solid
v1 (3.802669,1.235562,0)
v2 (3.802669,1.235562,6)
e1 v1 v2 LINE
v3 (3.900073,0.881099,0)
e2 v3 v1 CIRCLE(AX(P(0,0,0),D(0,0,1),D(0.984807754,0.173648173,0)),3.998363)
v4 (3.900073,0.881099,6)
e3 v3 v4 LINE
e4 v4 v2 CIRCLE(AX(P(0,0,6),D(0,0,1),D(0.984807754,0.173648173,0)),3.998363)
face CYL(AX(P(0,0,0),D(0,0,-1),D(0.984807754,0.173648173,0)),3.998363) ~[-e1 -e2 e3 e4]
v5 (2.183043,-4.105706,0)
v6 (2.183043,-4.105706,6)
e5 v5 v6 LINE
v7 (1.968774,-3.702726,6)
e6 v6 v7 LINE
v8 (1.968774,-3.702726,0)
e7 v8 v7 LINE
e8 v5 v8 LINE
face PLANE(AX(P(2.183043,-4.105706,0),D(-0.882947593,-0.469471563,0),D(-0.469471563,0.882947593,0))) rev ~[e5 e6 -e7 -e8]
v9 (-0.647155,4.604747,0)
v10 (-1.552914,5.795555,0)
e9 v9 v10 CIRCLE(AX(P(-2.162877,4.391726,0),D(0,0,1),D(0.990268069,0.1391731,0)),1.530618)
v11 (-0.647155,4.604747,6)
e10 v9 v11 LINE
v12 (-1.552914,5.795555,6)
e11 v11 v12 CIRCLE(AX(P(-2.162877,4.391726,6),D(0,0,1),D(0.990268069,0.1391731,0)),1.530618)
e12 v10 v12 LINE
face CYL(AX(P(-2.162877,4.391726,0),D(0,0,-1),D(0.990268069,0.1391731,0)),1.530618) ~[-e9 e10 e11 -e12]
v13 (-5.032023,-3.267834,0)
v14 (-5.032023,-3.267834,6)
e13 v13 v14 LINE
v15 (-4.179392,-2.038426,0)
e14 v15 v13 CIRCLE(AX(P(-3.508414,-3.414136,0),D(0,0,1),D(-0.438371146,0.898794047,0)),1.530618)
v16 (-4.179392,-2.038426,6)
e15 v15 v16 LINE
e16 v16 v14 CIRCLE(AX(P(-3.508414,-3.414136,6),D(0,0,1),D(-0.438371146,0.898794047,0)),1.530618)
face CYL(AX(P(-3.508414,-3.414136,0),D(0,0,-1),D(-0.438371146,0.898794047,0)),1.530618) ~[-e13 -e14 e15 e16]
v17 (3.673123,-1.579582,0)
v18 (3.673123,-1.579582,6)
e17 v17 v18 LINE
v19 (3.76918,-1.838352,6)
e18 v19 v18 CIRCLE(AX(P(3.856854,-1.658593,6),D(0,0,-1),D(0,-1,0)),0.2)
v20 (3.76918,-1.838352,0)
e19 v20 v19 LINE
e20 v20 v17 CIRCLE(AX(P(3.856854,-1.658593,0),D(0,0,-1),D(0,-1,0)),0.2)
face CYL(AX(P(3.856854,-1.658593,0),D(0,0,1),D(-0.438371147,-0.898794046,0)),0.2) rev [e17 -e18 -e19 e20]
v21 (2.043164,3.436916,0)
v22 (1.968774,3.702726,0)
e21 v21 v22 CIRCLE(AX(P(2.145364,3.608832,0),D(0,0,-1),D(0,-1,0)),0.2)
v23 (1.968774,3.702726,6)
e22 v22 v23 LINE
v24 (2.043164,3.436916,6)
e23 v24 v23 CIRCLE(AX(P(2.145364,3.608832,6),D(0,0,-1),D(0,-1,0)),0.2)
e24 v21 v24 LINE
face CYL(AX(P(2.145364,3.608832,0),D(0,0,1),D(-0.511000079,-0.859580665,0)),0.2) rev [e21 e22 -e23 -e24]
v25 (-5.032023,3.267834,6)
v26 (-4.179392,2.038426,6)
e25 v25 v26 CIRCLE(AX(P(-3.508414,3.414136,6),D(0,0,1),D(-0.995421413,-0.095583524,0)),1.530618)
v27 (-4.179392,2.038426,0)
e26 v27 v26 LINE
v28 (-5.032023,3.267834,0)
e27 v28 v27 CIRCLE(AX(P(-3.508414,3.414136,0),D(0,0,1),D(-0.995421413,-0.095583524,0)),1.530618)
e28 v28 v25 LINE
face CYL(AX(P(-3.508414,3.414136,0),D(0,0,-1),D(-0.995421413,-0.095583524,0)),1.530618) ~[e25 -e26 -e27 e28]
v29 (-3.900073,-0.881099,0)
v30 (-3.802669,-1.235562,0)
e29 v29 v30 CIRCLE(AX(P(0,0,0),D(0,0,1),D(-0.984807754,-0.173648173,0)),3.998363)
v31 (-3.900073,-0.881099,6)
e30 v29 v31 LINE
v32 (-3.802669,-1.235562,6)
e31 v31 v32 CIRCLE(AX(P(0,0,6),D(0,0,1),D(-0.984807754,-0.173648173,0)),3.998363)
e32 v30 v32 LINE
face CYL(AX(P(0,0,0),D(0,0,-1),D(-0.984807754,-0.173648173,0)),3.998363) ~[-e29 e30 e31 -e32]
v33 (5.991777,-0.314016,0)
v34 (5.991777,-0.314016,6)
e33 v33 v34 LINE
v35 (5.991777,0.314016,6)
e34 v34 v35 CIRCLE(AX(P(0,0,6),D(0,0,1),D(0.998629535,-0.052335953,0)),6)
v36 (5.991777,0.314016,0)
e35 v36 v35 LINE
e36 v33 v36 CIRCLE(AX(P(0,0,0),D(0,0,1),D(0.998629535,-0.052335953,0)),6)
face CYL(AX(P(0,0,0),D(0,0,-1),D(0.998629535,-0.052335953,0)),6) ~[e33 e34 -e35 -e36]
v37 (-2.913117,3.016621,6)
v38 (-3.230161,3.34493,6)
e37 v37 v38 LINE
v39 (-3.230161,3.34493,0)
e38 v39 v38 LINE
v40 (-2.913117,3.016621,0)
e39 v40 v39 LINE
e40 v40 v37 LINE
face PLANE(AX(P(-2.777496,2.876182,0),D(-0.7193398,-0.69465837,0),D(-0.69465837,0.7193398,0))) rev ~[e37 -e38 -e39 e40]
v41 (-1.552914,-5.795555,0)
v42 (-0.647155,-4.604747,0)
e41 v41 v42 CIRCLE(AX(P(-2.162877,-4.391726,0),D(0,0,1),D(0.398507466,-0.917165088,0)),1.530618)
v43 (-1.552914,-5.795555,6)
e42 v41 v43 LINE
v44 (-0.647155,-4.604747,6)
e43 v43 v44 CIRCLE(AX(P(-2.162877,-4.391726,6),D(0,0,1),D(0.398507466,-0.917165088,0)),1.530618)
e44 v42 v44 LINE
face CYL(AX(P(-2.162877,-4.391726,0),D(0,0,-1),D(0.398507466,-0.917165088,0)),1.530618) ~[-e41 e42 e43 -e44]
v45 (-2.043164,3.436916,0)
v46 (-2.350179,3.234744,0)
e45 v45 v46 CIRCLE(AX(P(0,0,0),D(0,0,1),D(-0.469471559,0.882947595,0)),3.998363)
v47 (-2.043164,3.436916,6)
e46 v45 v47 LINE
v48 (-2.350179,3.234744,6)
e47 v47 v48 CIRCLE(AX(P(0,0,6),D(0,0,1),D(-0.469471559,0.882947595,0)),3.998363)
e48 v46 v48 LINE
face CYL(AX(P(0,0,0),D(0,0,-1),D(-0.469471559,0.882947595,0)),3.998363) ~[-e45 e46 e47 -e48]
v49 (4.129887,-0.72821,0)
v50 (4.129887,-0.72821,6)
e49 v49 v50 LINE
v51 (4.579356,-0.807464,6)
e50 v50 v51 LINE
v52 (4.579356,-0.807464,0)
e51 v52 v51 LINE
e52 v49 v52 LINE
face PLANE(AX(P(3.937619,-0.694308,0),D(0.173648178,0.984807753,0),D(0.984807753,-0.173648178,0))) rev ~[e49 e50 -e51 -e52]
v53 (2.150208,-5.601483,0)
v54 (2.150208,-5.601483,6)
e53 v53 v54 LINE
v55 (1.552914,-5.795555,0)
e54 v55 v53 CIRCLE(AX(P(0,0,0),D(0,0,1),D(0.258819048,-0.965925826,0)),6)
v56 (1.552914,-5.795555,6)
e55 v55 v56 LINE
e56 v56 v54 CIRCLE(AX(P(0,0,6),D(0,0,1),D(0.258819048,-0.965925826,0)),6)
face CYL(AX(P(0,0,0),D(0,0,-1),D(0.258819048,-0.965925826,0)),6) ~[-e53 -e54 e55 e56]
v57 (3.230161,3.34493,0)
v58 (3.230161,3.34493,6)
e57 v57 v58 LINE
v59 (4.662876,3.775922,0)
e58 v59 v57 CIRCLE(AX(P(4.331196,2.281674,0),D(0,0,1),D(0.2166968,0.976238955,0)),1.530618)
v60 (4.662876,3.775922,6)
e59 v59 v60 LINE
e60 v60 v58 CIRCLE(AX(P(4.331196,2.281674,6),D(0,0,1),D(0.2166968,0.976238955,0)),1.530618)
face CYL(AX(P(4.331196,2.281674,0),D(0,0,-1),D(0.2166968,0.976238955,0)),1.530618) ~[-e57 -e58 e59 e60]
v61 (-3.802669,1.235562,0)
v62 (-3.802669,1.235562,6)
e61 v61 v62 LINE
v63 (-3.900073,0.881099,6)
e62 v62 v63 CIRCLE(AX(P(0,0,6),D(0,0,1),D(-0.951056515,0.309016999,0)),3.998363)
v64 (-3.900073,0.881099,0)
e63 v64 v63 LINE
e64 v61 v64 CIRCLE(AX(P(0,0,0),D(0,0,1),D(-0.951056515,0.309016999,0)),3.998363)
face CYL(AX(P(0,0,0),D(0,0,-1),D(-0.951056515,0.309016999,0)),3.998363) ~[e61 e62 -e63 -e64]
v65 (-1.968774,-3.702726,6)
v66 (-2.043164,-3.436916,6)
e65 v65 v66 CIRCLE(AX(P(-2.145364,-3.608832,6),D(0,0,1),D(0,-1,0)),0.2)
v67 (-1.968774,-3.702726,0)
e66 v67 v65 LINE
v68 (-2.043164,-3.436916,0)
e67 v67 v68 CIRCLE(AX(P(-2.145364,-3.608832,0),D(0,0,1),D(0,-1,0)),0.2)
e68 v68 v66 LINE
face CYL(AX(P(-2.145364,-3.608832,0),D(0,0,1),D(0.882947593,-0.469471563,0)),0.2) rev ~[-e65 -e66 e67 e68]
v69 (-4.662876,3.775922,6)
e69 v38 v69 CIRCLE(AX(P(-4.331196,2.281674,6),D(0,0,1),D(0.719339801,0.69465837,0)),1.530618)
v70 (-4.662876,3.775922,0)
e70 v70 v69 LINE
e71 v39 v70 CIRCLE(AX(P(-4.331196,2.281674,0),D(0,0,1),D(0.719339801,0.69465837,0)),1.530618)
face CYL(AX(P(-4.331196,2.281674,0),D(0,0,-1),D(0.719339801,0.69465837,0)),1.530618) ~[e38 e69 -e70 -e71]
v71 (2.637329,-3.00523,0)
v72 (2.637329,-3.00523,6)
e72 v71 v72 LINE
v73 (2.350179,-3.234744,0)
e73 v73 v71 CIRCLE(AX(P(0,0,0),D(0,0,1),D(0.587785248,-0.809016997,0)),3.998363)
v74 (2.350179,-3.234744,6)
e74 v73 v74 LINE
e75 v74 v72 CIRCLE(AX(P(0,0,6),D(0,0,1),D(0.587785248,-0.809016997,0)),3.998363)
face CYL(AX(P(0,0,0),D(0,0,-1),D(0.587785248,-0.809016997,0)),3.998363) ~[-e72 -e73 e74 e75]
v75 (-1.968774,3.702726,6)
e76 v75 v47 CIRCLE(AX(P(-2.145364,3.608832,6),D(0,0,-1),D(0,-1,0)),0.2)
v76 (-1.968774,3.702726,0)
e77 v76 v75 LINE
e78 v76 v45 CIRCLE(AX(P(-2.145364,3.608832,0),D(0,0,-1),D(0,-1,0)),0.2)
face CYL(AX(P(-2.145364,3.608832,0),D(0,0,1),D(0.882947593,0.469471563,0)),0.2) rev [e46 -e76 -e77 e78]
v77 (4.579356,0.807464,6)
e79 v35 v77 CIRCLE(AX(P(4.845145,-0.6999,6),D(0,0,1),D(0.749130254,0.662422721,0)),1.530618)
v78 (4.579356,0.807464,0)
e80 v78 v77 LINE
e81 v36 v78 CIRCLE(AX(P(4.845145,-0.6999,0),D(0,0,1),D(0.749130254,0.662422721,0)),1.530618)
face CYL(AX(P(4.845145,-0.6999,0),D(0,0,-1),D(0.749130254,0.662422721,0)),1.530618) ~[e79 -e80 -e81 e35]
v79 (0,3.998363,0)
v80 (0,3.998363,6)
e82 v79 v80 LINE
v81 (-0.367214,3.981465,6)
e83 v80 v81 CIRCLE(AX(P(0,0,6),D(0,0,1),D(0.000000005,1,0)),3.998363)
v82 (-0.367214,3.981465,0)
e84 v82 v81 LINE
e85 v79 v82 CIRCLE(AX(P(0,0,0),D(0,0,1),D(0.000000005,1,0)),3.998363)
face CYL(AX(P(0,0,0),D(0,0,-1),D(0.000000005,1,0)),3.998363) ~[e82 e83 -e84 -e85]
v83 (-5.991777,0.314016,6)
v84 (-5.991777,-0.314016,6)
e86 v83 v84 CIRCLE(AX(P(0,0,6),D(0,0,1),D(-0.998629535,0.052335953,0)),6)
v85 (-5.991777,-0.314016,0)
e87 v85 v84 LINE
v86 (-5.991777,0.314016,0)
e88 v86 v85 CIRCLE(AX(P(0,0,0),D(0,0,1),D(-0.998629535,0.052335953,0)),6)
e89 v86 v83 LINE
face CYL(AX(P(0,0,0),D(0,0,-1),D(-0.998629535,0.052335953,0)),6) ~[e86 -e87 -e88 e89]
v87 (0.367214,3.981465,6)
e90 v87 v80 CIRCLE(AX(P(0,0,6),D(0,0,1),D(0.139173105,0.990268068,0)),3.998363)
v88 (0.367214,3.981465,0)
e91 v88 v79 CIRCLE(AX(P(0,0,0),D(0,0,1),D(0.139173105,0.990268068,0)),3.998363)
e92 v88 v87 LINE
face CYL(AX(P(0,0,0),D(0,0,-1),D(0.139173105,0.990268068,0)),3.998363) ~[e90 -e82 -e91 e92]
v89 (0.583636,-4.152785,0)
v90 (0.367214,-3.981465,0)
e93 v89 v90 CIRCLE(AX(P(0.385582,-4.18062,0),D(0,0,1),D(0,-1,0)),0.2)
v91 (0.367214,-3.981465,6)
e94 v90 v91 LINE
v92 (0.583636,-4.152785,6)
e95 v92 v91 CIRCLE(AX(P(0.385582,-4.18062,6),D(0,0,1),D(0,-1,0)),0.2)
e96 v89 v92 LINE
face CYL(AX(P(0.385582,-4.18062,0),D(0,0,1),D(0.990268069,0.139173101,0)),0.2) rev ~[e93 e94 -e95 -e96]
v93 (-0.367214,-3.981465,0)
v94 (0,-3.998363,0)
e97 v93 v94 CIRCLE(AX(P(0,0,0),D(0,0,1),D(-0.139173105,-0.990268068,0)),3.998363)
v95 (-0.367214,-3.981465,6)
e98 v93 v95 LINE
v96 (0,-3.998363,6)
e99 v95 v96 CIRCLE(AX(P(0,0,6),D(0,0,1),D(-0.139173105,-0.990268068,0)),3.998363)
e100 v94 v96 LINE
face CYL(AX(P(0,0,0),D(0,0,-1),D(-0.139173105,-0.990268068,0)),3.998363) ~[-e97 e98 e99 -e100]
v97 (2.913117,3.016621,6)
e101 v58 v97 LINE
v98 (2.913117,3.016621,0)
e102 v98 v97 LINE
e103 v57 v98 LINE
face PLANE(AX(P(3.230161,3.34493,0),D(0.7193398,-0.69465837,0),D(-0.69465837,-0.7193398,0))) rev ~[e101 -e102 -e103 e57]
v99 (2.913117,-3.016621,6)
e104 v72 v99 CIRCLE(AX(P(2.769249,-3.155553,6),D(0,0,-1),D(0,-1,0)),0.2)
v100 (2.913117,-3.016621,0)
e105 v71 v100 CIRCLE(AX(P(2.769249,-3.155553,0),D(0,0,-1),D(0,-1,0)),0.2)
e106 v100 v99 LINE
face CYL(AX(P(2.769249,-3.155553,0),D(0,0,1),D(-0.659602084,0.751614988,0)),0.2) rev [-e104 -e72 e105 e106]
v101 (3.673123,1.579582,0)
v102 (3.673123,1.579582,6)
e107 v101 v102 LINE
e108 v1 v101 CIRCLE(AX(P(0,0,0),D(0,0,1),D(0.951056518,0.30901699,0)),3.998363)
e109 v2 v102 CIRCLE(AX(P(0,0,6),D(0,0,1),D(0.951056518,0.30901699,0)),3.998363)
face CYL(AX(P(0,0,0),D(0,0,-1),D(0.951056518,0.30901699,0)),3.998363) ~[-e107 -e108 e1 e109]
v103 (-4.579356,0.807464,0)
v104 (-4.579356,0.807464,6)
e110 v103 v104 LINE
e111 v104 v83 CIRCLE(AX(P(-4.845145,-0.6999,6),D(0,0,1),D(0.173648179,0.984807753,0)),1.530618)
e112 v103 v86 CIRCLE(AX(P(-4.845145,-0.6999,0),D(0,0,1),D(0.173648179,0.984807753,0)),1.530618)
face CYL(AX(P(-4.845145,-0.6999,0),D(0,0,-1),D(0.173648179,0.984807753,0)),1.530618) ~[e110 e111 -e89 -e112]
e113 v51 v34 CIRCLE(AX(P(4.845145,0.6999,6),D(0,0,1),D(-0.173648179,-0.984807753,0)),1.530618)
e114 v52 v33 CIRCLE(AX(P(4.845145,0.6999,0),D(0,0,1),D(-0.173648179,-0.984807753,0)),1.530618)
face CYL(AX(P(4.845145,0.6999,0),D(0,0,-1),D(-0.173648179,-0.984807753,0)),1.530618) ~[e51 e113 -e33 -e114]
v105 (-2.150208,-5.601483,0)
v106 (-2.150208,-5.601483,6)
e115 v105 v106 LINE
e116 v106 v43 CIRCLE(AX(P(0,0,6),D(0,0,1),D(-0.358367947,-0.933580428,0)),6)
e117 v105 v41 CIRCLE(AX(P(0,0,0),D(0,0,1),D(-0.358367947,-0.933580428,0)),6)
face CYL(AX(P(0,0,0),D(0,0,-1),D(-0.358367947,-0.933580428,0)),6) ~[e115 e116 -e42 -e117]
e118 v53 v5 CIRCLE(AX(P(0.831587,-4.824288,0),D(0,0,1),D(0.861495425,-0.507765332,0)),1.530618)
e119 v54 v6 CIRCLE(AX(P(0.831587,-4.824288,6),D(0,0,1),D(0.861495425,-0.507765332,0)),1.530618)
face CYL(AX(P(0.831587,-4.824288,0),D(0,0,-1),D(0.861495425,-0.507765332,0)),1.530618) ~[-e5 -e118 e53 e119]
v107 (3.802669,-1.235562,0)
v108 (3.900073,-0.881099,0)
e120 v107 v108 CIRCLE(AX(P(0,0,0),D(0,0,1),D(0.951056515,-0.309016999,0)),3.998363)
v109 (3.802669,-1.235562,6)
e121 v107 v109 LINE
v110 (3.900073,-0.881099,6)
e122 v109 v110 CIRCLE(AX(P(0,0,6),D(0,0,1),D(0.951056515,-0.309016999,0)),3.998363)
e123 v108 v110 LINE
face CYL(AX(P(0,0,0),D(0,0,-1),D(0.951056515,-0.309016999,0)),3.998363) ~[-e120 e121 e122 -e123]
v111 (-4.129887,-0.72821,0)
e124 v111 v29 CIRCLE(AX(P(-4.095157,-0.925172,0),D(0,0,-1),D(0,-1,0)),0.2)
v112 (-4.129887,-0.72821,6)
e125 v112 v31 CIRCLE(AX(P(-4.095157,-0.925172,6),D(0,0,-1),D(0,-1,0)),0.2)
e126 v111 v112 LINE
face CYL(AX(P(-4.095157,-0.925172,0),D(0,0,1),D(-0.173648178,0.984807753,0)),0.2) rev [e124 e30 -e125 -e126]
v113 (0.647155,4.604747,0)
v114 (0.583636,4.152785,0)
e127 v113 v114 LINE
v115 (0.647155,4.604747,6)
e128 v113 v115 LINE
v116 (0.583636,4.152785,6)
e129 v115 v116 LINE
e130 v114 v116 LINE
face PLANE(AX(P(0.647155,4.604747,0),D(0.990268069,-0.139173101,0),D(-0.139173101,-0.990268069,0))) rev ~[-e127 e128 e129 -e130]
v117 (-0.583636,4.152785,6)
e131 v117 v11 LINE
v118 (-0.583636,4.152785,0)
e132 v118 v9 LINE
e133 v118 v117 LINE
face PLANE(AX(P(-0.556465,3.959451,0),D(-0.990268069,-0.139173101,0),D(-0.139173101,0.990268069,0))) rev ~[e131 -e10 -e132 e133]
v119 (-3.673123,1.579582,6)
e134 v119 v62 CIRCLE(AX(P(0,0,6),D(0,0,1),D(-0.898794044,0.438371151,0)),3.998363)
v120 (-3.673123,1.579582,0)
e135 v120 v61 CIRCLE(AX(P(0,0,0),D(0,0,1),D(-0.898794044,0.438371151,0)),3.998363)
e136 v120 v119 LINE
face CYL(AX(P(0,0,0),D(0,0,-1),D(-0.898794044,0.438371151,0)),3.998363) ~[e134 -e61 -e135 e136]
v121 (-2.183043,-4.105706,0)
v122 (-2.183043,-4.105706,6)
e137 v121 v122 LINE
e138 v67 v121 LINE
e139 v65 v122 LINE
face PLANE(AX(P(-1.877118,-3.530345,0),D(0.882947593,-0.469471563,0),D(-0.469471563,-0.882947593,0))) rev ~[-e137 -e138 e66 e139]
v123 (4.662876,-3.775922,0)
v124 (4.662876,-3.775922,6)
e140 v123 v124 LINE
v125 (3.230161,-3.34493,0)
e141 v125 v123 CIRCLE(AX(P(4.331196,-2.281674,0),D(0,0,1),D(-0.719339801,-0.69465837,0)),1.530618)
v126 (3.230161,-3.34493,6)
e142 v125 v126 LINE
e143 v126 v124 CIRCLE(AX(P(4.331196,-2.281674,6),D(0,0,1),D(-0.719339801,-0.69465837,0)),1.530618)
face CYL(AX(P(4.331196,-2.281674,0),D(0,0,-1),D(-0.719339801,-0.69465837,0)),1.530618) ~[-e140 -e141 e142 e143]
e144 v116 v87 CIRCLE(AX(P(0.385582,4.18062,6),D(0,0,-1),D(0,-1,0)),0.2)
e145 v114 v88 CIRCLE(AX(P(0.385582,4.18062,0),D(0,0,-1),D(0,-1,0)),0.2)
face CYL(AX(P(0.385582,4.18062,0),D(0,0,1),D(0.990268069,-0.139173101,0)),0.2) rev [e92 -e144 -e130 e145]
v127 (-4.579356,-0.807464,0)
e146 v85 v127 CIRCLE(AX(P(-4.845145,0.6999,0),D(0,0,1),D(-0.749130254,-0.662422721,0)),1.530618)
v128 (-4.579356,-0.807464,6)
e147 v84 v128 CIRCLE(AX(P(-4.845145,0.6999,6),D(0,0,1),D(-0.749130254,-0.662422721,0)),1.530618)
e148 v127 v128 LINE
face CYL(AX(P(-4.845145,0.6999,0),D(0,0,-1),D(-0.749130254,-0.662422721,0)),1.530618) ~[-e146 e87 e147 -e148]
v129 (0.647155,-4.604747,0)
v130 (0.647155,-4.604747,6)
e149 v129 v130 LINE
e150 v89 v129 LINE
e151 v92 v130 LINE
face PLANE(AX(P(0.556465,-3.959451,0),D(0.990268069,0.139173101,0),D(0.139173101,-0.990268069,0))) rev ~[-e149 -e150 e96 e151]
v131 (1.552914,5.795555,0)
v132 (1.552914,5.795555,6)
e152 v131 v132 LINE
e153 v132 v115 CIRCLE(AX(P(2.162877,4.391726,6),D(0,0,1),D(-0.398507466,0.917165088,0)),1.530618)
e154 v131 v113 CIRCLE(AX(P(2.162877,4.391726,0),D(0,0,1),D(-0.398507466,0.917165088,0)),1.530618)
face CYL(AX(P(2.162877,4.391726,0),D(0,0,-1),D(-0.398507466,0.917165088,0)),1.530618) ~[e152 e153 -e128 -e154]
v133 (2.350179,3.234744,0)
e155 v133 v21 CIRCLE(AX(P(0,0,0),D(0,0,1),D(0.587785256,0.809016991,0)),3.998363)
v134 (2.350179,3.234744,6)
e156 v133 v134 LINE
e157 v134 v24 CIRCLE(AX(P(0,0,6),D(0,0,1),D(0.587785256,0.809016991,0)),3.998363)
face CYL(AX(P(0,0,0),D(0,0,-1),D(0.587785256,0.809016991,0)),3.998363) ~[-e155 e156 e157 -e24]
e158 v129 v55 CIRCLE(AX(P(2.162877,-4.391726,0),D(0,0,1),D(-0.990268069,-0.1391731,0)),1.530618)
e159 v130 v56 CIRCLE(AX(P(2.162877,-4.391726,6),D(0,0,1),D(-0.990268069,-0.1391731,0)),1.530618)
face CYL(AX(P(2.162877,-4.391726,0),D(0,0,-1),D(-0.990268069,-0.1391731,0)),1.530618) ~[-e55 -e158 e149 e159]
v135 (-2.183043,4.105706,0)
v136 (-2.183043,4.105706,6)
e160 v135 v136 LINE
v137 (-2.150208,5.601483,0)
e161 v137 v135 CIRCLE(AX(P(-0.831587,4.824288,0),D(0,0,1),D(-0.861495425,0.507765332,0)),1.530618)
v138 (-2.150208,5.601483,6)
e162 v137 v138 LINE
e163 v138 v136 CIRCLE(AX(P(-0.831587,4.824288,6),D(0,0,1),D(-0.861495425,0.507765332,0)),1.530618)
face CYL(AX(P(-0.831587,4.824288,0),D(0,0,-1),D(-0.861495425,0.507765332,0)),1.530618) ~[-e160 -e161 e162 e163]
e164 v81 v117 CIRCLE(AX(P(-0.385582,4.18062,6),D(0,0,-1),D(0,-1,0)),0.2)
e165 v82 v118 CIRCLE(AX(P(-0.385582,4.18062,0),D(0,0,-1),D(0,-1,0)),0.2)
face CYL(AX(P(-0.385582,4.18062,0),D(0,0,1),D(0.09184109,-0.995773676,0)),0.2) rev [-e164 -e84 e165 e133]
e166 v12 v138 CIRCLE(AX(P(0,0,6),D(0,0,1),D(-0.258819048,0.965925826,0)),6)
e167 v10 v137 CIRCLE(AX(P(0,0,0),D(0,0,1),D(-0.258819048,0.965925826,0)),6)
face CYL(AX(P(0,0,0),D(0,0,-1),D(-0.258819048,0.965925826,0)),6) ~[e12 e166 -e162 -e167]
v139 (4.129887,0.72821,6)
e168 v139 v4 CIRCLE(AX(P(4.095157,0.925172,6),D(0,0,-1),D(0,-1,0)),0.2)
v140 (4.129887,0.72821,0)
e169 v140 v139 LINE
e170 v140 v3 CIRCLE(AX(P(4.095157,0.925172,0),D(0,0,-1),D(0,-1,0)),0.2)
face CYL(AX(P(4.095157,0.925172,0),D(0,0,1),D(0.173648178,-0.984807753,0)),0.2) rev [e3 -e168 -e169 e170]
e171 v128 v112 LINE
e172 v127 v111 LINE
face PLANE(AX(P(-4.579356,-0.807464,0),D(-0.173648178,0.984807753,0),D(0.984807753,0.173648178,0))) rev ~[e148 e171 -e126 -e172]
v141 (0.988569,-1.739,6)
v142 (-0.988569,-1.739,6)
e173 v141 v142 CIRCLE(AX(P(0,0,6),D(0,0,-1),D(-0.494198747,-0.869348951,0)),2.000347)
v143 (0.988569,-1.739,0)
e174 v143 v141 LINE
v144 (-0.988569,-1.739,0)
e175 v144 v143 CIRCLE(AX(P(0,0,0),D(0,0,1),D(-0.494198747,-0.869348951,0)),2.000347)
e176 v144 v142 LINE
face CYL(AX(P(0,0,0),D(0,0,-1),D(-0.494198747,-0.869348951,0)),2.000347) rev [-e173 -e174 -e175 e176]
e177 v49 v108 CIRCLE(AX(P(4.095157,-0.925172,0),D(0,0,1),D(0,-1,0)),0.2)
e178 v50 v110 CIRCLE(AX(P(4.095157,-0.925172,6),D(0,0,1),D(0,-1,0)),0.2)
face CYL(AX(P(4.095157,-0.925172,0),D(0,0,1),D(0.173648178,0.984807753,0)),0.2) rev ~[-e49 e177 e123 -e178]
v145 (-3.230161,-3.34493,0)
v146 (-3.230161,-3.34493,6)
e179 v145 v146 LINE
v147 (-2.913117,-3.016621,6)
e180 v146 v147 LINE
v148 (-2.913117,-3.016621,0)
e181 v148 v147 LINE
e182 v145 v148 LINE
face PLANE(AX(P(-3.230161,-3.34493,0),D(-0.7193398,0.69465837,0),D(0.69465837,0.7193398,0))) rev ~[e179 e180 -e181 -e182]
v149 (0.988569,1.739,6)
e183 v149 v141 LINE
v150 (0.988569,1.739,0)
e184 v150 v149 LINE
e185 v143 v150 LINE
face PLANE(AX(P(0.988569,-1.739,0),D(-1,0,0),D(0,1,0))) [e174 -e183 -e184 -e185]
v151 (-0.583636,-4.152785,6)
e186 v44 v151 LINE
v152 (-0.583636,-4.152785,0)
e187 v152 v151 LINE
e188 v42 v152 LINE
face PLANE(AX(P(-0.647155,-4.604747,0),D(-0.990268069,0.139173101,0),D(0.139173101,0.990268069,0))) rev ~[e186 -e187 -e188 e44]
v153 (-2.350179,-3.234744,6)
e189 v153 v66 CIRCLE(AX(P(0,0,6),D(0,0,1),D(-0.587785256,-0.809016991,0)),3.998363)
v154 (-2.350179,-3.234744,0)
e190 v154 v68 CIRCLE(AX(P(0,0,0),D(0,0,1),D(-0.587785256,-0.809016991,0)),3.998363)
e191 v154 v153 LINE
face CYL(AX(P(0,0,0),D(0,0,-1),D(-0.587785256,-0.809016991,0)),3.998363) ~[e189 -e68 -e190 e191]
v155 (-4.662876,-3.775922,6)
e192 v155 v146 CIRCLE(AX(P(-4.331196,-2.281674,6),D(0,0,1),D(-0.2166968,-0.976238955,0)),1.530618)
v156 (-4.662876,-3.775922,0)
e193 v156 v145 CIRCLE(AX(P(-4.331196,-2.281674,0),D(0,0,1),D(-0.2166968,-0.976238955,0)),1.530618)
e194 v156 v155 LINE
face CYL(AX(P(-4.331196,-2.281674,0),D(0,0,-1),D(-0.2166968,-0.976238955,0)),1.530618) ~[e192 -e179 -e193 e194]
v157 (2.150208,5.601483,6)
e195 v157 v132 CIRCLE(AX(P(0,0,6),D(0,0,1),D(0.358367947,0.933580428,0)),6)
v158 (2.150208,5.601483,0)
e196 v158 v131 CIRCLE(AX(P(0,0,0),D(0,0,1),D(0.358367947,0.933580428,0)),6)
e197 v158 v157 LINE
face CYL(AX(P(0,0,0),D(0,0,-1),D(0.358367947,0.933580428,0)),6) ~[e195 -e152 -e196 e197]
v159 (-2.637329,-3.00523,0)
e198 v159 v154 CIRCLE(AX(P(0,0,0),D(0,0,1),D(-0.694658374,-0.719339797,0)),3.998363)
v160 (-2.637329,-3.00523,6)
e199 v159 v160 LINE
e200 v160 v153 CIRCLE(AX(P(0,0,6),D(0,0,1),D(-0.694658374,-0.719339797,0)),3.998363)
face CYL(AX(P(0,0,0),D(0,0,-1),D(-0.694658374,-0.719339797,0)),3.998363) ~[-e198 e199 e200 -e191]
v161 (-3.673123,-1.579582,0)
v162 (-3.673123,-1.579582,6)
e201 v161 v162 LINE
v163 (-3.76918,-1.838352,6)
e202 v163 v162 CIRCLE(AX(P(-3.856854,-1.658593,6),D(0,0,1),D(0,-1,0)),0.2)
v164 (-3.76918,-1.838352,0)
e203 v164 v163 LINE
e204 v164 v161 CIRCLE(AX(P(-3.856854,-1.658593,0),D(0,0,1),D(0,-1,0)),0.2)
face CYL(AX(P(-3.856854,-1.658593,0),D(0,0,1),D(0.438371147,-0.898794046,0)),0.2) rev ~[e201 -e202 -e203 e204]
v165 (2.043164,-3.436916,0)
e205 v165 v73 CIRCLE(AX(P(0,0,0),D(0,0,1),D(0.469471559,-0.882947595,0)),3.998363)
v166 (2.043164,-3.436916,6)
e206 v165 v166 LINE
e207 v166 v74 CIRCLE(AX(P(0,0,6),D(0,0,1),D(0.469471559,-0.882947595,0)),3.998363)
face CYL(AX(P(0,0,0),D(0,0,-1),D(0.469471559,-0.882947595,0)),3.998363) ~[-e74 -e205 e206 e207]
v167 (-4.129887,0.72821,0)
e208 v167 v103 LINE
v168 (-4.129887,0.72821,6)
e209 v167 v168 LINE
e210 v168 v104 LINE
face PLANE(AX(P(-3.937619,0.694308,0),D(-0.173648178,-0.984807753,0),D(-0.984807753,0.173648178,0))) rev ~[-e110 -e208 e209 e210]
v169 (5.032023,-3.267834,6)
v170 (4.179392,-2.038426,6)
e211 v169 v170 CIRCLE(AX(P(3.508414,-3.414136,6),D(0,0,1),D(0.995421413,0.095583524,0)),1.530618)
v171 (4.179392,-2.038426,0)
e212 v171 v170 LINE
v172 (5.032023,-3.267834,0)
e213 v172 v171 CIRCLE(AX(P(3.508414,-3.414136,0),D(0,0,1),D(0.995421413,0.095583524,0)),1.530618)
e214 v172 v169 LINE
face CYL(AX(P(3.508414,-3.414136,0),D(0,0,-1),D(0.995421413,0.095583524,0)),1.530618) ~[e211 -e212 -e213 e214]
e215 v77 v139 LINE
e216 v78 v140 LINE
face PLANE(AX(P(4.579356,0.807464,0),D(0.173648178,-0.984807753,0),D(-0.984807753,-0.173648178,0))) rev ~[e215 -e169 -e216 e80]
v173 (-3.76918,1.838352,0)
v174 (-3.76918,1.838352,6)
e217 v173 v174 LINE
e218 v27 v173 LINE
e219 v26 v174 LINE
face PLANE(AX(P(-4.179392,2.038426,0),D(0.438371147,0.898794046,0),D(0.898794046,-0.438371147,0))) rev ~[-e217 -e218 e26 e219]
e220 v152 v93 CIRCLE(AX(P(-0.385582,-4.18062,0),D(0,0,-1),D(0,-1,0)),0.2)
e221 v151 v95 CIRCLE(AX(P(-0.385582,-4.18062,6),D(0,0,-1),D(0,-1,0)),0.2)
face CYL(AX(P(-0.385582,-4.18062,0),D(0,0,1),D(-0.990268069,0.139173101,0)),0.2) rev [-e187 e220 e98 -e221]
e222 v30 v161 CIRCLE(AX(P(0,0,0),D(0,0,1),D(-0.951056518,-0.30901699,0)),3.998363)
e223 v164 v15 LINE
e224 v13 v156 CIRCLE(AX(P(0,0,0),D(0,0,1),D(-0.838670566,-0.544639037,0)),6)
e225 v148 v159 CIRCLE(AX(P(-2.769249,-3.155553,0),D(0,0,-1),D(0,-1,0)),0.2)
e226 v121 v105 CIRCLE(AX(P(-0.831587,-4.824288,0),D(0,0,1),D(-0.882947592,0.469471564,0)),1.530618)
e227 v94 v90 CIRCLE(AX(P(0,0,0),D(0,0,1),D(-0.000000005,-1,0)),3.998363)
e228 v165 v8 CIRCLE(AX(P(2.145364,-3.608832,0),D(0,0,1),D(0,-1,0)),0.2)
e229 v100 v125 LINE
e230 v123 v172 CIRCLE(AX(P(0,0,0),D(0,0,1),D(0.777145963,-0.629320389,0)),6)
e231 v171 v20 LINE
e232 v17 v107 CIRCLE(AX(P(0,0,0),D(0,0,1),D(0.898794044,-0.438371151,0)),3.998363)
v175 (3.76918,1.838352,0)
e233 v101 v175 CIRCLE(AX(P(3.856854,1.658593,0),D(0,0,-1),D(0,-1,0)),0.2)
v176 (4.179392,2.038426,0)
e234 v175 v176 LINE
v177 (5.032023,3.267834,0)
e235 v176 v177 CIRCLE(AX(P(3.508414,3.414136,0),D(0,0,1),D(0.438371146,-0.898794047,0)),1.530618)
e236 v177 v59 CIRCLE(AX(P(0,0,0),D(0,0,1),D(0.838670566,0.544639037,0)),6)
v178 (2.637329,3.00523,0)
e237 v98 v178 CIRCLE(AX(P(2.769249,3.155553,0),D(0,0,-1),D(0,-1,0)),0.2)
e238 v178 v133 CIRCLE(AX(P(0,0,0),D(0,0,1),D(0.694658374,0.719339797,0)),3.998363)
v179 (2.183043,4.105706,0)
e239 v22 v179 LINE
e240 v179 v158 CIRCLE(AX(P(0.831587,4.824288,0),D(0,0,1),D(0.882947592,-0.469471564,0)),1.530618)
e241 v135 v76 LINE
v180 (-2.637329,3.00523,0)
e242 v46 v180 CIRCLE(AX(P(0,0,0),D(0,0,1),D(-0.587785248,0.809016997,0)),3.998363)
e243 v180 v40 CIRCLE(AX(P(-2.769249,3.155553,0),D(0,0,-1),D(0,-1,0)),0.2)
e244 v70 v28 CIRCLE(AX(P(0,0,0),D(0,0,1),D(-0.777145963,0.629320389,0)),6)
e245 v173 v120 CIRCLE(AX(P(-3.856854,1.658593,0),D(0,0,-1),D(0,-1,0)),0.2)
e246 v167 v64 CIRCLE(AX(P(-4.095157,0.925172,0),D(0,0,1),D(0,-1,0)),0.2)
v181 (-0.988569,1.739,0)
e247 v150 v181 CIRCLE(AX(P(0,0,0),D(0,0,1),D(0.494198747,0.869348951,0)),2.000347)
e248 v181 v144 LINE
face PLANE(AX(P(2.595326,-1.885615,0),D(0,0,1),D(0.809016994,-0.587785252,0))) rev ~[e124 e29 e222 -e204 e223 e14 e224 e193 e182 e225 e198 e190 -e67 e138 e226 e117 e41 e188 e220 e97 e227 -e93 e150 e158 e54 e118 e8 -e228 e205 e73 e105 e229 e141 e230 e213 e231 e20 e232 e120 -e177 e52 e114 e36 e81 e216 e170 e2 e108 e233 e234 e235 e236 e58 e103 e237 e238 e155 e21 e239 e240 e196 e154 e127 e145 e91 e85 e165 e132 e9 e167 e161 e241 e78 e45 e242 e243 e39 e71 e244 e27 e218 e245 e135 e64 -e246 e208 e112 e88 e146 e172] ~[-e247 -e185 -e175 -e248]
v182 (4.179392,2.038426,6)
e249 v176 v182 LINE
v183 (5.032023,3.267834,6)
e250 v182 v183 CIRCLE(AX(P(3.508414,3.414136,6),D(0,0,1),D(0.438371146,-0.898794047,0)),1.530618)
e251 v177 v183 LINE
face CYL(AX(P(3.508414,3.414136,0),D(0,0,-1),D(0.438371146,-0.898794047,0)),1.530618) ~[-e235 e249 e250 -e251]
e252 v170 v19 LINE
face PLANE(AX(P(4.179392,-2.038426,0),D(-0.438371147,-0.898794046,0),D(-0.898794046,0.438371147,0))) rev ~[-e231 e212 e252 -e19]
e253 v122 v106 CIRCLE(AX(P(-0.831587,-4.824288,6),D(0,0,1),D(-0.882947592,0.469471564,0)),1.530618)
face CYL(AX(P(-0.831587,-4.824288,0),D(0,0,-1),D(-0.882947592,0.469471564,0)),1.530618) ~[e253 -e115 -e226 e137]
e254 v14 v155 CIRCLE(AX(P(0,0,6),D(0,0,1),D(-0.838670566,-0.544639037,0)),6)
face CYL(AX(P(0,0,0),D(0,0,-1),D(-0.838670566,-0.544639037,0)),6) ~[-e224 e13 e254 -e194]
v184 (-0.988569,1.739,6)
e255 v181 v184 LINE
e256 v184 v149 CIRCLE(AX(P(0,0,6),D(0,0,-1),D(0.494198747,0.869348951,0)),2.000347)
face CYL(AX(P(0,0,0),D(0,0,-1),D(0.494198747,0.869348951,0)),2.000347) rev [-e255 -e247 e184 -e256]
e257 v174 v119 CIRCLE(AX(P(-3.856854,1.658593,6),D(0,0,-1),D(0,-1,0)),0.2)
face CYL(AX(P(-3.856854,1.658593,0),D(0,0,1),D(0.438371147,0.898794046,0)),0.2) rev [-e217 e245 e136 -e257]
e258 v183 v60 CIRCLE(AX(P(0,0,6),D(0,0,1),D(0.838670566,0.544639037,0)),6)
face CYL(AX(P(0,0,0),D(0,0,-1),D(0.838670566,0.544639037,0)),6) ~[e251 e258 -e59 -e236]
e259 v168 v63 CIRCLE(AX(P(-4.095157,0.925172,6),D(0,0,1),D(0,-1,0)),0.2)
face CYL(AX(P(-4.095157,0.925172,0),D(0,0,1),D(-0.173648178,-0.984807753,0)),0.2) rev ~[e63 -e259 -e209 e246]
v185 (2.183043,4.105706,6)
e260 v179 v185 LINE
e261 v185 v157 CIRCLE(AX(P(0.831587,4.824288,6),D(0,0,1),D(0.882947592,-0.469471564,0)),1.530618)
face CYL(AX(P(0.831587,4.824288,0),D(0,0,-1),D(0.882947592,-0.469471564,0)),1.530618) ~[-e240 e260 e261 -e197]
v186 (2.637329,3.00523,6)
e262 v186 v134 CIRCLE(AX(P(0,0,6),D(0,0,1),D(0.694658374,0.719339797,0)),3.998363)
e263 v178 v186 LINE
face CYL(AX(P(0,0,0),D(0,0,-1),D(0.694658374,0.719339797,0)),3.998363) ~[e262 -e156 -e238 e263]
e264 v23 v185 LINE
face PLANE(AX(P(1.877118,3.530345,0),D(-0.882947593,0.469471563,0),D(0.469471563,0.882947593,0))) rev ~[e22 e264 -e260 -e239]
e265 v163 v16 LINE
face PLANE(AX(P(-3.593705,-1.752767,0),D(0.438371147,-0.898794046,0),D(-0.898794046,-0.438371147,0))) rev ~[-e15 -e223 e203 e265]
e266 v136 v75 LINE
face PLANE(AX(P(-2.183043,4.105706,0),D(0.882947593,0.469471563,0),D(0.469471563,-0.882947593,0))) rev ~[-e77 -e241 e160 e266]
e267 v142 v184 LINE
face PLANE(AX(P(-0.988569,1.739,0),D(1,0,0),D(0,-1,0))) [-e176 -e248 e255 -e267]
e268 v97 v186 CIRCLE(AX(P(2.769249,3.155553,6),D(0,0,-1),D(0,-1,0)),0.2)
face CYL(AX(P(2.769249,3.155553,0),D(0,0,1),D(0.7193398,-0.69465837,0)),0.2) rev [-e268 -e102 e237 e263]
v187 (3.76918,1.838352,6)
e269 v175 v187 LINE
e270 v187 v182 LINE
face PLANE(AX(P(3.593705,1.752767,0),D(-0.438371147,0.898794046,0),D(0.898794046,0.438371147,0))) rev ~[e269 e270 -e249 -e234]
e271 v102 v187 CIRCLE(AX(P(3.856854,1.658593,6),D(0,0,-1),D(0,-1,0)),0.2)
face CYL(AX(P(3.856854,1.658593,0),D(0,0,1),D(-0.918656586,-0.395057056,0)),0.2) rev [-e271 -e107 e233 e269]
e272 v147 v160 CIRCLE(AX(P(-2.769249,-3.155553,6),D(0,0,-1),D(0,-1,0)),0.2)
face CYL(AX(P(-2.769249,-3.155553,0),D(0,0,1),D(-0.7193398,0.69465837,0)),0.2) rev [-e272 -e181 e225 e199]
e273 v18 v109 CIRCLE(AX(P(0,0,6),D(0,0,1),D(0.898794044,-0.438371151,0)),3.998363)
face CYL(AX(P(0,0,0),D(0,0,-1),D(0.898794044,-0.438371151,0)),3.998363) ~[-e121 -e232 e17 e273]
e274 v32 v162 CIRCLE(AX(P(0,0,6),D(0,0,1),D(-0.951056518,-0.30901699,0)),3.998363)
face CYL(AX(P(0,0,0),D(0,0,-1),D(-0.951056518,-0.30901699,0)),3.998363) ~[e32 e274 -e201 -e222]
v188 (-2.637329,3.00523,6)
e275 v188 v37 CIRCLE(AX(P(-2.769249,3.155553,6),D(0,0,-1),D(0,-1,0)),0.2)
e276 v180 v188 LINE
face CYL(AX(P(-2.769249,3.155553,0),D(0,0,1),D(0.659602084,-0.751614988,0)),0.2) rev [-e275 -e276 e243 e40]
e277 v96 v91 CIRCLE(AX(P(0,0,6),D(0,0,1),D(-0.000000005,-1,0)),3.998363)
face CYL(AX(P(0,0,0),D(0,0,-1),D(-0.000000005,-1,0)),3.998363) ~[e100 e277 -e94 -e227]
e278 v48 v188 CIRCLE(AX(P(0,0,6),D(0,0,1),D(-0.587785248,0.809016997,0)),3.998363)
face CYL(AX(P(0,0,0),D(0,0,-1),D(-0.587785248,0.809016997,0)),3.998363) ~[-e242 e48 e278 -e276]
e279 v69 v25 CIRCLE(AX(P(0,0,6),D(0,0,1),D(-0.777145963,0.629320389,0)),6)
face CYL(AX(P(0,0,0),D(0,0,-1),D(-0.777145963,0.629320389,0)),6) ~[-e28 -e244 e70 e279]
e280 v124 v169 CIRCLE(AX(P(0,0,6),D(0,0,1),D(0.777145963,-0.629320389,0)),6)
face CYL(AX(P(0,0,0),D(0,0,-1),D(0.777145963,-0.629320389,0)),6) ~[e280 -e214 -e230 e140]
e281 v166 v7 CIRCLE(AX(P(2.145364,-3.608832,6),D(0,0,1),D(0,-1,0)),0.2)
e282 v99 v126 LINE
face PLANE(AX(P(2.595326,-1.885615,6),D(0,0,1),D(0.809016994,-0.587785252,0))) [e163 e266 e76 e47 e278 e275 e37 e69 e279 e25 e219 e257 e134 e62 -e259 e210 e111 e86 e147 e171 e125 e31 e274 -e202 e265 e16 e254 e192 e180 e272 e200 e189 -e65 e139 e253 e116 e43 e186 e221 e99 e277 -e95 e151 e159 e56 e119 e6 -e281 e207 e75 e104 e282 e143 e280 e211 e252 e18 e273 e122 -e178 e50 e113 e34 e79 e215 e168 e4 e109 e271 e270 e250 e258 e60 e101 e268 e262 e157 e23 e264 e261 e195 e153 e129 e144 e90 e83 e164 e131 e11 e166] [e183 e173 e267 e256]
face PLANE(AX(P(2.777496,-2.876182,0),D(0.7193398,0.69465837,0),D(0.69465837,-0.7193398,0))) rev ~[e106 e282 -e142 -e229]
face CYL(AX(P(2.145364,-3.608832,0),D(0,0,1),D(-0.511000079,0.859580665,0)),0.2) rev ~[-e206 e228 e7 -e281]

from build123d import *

# Parameters (mm, degrees)
BOSS_EXTRUDE1_DEPTH      = 6
FILLET3_R                = 0.2
FILLET4_R                = 0.2
CIRPATTERN1_COUNT        = 10
FILLET3_OF_CIRPATTERN1_R = 0.2
FILLET4_OF_CIRPATTERN1_R = 0.2
CUT_EXTRUDE1_DEPTH       = 7
CUT_EXTRUDE1_DEPTH_BACK  = 6


with BuildPart() as part:
    # Sketch1 → Boss-Extrude1 (new body)
    with BuildSketch(Plane.XY):
        with BuildLine():
            Line((0, 0), (3.80266937, -1.235562177))
            ThreePointArc((3.80266937, -1.235562177), (3.87959472, -0.967291603), (3.937619073, -0.694308482))
            Line((3.937619073, -0.694308482), (4.579356052, -0.807464026))
            ThreePointArc((4.579356052, -0.807464026), (5.349965783, -0.745072725), (5.991777209, -0.314015737))
            ThreePointArc((5.991777209, -0.314015737), (6, 0), (5.991777209, 0.314015737))
            ThreePointArc((5.991777209, 0.314015737), (5.349965783, 0.745072725), (4.579356052, 0.807464026))
            Line((4.579356052, 0.807464026), (3.937619073, 0.694308482))
            ThreePointArc((3.937619073, 0.694308482), (3.87959472, 0.967291603), (3.80266937, 1.235562177))
            Line((3.80266937, 1.235562177), (0, 0))
        make_face()
    boss_extrude1 = extrude(amount=BOSS_EXTRUDE1_DEPTH)

    # Fillet3
    fillet3_edges = [part.edges().sort_by_distance(p)[0] for p in [
        (3.937619073, 0.694308482, 3),
    ]]
    fillet(fillet3_edges, radius=FILLET3_R)

    # Fillet4
    fillet4_edges = [part.edges().sort_by_distance(p)[0] for p in [
        (3.937619073, -0.694308482, 3),
    ]]
    fillet(fillet4_edges, radius=FILLET4_R)

    # CirPattern1: Boss-Extrude1 ×10 about axis
    cirpattern1_axis = Axis((0, 0, 0), (0, 0, 1))
    for i in range(1, CIRPATTERN1_COUNT):
        add(boss_extrude1.rotate(cirpattern1_axis, i * 360 / CIRPATTERN1_COUNT))

    # Fillet3 of CirPattern1
    fillet3_of_cirpattern1_edges = [part.edges().sort_by_distance(p)[0] for p in [
        (2.777496461, 2.876181782, 3),
        (0.556464605, 3.959451399, 3),
        (-1.877117817, 3.530345158, 3),
        (-3.593705034, 1.752767059, 3),
        (-3.937619073, -0.694308482, 3),
        (-2.777496461, -2.876181782, 3),
        (-0.556464605, -3.959451399, 3),
        (1.877117817, -3.530345158, 3),
        (3.593705034, -1.752767059, 3),
    ]]
    fillet(fillet3_of_cirpattern1_edges, radius=FILLET3_OF_CIRPATTERN1_R)

    # Fillet4 of CirPattern1
    fillet4_of_cirpattern1_edges = [part.edges().sort_by_distance(p)[0] for p in [
        (3.593705034, 1.752767059, 3),
        (1.877117817, 3.530345158, 3),
        (-0.556464605, 3.959451399, 3),
        (-2.777496461, 2.876181782, 3),
        (-3.937619073, 0.694308482, 3),
        (-3.593705034, -1.752767059, 3),
        (-1.877117817, -3.530345158, 3),
        (0.556464605, -3.959451399, 3),
        (2.777496461, -2.876181782, 3),
    ]]
    fillet(fillet4_of_cirpattern1_edges, radius=FILLET4_OF_CIRPATTERN1_R)

    # Sketch2 → Cut-Extrude1 (cut, two sides)
    with BuildSketch(Plane.XY) as cut_extrude1_sk:
        with BuildLine():
            Line((-0.988569227, 1.739), (-0.988569227, -1.739))
            ThreePointArc((-0.988569227, -1.739), (0, -2.000347499), (0.988569227, -1.739))
            Line((0.988569227, -1.739), (0.988569227, 1.739))
            ThreePointArc((0.988569227, 1.739), (0, 2.000347499), (-0.988569227, 1.739))
        make_face()
    extrude(amount=CUT_EXTRUDE1_DEPTH, mode=Mode.SUBTRACT)
    extrude(cut_extrude1_sk.sketch, amount=-CUT_EXTRUDE1_DEPTH_BACK, mode=Mode.SUBTRACT)


solid = part.part
